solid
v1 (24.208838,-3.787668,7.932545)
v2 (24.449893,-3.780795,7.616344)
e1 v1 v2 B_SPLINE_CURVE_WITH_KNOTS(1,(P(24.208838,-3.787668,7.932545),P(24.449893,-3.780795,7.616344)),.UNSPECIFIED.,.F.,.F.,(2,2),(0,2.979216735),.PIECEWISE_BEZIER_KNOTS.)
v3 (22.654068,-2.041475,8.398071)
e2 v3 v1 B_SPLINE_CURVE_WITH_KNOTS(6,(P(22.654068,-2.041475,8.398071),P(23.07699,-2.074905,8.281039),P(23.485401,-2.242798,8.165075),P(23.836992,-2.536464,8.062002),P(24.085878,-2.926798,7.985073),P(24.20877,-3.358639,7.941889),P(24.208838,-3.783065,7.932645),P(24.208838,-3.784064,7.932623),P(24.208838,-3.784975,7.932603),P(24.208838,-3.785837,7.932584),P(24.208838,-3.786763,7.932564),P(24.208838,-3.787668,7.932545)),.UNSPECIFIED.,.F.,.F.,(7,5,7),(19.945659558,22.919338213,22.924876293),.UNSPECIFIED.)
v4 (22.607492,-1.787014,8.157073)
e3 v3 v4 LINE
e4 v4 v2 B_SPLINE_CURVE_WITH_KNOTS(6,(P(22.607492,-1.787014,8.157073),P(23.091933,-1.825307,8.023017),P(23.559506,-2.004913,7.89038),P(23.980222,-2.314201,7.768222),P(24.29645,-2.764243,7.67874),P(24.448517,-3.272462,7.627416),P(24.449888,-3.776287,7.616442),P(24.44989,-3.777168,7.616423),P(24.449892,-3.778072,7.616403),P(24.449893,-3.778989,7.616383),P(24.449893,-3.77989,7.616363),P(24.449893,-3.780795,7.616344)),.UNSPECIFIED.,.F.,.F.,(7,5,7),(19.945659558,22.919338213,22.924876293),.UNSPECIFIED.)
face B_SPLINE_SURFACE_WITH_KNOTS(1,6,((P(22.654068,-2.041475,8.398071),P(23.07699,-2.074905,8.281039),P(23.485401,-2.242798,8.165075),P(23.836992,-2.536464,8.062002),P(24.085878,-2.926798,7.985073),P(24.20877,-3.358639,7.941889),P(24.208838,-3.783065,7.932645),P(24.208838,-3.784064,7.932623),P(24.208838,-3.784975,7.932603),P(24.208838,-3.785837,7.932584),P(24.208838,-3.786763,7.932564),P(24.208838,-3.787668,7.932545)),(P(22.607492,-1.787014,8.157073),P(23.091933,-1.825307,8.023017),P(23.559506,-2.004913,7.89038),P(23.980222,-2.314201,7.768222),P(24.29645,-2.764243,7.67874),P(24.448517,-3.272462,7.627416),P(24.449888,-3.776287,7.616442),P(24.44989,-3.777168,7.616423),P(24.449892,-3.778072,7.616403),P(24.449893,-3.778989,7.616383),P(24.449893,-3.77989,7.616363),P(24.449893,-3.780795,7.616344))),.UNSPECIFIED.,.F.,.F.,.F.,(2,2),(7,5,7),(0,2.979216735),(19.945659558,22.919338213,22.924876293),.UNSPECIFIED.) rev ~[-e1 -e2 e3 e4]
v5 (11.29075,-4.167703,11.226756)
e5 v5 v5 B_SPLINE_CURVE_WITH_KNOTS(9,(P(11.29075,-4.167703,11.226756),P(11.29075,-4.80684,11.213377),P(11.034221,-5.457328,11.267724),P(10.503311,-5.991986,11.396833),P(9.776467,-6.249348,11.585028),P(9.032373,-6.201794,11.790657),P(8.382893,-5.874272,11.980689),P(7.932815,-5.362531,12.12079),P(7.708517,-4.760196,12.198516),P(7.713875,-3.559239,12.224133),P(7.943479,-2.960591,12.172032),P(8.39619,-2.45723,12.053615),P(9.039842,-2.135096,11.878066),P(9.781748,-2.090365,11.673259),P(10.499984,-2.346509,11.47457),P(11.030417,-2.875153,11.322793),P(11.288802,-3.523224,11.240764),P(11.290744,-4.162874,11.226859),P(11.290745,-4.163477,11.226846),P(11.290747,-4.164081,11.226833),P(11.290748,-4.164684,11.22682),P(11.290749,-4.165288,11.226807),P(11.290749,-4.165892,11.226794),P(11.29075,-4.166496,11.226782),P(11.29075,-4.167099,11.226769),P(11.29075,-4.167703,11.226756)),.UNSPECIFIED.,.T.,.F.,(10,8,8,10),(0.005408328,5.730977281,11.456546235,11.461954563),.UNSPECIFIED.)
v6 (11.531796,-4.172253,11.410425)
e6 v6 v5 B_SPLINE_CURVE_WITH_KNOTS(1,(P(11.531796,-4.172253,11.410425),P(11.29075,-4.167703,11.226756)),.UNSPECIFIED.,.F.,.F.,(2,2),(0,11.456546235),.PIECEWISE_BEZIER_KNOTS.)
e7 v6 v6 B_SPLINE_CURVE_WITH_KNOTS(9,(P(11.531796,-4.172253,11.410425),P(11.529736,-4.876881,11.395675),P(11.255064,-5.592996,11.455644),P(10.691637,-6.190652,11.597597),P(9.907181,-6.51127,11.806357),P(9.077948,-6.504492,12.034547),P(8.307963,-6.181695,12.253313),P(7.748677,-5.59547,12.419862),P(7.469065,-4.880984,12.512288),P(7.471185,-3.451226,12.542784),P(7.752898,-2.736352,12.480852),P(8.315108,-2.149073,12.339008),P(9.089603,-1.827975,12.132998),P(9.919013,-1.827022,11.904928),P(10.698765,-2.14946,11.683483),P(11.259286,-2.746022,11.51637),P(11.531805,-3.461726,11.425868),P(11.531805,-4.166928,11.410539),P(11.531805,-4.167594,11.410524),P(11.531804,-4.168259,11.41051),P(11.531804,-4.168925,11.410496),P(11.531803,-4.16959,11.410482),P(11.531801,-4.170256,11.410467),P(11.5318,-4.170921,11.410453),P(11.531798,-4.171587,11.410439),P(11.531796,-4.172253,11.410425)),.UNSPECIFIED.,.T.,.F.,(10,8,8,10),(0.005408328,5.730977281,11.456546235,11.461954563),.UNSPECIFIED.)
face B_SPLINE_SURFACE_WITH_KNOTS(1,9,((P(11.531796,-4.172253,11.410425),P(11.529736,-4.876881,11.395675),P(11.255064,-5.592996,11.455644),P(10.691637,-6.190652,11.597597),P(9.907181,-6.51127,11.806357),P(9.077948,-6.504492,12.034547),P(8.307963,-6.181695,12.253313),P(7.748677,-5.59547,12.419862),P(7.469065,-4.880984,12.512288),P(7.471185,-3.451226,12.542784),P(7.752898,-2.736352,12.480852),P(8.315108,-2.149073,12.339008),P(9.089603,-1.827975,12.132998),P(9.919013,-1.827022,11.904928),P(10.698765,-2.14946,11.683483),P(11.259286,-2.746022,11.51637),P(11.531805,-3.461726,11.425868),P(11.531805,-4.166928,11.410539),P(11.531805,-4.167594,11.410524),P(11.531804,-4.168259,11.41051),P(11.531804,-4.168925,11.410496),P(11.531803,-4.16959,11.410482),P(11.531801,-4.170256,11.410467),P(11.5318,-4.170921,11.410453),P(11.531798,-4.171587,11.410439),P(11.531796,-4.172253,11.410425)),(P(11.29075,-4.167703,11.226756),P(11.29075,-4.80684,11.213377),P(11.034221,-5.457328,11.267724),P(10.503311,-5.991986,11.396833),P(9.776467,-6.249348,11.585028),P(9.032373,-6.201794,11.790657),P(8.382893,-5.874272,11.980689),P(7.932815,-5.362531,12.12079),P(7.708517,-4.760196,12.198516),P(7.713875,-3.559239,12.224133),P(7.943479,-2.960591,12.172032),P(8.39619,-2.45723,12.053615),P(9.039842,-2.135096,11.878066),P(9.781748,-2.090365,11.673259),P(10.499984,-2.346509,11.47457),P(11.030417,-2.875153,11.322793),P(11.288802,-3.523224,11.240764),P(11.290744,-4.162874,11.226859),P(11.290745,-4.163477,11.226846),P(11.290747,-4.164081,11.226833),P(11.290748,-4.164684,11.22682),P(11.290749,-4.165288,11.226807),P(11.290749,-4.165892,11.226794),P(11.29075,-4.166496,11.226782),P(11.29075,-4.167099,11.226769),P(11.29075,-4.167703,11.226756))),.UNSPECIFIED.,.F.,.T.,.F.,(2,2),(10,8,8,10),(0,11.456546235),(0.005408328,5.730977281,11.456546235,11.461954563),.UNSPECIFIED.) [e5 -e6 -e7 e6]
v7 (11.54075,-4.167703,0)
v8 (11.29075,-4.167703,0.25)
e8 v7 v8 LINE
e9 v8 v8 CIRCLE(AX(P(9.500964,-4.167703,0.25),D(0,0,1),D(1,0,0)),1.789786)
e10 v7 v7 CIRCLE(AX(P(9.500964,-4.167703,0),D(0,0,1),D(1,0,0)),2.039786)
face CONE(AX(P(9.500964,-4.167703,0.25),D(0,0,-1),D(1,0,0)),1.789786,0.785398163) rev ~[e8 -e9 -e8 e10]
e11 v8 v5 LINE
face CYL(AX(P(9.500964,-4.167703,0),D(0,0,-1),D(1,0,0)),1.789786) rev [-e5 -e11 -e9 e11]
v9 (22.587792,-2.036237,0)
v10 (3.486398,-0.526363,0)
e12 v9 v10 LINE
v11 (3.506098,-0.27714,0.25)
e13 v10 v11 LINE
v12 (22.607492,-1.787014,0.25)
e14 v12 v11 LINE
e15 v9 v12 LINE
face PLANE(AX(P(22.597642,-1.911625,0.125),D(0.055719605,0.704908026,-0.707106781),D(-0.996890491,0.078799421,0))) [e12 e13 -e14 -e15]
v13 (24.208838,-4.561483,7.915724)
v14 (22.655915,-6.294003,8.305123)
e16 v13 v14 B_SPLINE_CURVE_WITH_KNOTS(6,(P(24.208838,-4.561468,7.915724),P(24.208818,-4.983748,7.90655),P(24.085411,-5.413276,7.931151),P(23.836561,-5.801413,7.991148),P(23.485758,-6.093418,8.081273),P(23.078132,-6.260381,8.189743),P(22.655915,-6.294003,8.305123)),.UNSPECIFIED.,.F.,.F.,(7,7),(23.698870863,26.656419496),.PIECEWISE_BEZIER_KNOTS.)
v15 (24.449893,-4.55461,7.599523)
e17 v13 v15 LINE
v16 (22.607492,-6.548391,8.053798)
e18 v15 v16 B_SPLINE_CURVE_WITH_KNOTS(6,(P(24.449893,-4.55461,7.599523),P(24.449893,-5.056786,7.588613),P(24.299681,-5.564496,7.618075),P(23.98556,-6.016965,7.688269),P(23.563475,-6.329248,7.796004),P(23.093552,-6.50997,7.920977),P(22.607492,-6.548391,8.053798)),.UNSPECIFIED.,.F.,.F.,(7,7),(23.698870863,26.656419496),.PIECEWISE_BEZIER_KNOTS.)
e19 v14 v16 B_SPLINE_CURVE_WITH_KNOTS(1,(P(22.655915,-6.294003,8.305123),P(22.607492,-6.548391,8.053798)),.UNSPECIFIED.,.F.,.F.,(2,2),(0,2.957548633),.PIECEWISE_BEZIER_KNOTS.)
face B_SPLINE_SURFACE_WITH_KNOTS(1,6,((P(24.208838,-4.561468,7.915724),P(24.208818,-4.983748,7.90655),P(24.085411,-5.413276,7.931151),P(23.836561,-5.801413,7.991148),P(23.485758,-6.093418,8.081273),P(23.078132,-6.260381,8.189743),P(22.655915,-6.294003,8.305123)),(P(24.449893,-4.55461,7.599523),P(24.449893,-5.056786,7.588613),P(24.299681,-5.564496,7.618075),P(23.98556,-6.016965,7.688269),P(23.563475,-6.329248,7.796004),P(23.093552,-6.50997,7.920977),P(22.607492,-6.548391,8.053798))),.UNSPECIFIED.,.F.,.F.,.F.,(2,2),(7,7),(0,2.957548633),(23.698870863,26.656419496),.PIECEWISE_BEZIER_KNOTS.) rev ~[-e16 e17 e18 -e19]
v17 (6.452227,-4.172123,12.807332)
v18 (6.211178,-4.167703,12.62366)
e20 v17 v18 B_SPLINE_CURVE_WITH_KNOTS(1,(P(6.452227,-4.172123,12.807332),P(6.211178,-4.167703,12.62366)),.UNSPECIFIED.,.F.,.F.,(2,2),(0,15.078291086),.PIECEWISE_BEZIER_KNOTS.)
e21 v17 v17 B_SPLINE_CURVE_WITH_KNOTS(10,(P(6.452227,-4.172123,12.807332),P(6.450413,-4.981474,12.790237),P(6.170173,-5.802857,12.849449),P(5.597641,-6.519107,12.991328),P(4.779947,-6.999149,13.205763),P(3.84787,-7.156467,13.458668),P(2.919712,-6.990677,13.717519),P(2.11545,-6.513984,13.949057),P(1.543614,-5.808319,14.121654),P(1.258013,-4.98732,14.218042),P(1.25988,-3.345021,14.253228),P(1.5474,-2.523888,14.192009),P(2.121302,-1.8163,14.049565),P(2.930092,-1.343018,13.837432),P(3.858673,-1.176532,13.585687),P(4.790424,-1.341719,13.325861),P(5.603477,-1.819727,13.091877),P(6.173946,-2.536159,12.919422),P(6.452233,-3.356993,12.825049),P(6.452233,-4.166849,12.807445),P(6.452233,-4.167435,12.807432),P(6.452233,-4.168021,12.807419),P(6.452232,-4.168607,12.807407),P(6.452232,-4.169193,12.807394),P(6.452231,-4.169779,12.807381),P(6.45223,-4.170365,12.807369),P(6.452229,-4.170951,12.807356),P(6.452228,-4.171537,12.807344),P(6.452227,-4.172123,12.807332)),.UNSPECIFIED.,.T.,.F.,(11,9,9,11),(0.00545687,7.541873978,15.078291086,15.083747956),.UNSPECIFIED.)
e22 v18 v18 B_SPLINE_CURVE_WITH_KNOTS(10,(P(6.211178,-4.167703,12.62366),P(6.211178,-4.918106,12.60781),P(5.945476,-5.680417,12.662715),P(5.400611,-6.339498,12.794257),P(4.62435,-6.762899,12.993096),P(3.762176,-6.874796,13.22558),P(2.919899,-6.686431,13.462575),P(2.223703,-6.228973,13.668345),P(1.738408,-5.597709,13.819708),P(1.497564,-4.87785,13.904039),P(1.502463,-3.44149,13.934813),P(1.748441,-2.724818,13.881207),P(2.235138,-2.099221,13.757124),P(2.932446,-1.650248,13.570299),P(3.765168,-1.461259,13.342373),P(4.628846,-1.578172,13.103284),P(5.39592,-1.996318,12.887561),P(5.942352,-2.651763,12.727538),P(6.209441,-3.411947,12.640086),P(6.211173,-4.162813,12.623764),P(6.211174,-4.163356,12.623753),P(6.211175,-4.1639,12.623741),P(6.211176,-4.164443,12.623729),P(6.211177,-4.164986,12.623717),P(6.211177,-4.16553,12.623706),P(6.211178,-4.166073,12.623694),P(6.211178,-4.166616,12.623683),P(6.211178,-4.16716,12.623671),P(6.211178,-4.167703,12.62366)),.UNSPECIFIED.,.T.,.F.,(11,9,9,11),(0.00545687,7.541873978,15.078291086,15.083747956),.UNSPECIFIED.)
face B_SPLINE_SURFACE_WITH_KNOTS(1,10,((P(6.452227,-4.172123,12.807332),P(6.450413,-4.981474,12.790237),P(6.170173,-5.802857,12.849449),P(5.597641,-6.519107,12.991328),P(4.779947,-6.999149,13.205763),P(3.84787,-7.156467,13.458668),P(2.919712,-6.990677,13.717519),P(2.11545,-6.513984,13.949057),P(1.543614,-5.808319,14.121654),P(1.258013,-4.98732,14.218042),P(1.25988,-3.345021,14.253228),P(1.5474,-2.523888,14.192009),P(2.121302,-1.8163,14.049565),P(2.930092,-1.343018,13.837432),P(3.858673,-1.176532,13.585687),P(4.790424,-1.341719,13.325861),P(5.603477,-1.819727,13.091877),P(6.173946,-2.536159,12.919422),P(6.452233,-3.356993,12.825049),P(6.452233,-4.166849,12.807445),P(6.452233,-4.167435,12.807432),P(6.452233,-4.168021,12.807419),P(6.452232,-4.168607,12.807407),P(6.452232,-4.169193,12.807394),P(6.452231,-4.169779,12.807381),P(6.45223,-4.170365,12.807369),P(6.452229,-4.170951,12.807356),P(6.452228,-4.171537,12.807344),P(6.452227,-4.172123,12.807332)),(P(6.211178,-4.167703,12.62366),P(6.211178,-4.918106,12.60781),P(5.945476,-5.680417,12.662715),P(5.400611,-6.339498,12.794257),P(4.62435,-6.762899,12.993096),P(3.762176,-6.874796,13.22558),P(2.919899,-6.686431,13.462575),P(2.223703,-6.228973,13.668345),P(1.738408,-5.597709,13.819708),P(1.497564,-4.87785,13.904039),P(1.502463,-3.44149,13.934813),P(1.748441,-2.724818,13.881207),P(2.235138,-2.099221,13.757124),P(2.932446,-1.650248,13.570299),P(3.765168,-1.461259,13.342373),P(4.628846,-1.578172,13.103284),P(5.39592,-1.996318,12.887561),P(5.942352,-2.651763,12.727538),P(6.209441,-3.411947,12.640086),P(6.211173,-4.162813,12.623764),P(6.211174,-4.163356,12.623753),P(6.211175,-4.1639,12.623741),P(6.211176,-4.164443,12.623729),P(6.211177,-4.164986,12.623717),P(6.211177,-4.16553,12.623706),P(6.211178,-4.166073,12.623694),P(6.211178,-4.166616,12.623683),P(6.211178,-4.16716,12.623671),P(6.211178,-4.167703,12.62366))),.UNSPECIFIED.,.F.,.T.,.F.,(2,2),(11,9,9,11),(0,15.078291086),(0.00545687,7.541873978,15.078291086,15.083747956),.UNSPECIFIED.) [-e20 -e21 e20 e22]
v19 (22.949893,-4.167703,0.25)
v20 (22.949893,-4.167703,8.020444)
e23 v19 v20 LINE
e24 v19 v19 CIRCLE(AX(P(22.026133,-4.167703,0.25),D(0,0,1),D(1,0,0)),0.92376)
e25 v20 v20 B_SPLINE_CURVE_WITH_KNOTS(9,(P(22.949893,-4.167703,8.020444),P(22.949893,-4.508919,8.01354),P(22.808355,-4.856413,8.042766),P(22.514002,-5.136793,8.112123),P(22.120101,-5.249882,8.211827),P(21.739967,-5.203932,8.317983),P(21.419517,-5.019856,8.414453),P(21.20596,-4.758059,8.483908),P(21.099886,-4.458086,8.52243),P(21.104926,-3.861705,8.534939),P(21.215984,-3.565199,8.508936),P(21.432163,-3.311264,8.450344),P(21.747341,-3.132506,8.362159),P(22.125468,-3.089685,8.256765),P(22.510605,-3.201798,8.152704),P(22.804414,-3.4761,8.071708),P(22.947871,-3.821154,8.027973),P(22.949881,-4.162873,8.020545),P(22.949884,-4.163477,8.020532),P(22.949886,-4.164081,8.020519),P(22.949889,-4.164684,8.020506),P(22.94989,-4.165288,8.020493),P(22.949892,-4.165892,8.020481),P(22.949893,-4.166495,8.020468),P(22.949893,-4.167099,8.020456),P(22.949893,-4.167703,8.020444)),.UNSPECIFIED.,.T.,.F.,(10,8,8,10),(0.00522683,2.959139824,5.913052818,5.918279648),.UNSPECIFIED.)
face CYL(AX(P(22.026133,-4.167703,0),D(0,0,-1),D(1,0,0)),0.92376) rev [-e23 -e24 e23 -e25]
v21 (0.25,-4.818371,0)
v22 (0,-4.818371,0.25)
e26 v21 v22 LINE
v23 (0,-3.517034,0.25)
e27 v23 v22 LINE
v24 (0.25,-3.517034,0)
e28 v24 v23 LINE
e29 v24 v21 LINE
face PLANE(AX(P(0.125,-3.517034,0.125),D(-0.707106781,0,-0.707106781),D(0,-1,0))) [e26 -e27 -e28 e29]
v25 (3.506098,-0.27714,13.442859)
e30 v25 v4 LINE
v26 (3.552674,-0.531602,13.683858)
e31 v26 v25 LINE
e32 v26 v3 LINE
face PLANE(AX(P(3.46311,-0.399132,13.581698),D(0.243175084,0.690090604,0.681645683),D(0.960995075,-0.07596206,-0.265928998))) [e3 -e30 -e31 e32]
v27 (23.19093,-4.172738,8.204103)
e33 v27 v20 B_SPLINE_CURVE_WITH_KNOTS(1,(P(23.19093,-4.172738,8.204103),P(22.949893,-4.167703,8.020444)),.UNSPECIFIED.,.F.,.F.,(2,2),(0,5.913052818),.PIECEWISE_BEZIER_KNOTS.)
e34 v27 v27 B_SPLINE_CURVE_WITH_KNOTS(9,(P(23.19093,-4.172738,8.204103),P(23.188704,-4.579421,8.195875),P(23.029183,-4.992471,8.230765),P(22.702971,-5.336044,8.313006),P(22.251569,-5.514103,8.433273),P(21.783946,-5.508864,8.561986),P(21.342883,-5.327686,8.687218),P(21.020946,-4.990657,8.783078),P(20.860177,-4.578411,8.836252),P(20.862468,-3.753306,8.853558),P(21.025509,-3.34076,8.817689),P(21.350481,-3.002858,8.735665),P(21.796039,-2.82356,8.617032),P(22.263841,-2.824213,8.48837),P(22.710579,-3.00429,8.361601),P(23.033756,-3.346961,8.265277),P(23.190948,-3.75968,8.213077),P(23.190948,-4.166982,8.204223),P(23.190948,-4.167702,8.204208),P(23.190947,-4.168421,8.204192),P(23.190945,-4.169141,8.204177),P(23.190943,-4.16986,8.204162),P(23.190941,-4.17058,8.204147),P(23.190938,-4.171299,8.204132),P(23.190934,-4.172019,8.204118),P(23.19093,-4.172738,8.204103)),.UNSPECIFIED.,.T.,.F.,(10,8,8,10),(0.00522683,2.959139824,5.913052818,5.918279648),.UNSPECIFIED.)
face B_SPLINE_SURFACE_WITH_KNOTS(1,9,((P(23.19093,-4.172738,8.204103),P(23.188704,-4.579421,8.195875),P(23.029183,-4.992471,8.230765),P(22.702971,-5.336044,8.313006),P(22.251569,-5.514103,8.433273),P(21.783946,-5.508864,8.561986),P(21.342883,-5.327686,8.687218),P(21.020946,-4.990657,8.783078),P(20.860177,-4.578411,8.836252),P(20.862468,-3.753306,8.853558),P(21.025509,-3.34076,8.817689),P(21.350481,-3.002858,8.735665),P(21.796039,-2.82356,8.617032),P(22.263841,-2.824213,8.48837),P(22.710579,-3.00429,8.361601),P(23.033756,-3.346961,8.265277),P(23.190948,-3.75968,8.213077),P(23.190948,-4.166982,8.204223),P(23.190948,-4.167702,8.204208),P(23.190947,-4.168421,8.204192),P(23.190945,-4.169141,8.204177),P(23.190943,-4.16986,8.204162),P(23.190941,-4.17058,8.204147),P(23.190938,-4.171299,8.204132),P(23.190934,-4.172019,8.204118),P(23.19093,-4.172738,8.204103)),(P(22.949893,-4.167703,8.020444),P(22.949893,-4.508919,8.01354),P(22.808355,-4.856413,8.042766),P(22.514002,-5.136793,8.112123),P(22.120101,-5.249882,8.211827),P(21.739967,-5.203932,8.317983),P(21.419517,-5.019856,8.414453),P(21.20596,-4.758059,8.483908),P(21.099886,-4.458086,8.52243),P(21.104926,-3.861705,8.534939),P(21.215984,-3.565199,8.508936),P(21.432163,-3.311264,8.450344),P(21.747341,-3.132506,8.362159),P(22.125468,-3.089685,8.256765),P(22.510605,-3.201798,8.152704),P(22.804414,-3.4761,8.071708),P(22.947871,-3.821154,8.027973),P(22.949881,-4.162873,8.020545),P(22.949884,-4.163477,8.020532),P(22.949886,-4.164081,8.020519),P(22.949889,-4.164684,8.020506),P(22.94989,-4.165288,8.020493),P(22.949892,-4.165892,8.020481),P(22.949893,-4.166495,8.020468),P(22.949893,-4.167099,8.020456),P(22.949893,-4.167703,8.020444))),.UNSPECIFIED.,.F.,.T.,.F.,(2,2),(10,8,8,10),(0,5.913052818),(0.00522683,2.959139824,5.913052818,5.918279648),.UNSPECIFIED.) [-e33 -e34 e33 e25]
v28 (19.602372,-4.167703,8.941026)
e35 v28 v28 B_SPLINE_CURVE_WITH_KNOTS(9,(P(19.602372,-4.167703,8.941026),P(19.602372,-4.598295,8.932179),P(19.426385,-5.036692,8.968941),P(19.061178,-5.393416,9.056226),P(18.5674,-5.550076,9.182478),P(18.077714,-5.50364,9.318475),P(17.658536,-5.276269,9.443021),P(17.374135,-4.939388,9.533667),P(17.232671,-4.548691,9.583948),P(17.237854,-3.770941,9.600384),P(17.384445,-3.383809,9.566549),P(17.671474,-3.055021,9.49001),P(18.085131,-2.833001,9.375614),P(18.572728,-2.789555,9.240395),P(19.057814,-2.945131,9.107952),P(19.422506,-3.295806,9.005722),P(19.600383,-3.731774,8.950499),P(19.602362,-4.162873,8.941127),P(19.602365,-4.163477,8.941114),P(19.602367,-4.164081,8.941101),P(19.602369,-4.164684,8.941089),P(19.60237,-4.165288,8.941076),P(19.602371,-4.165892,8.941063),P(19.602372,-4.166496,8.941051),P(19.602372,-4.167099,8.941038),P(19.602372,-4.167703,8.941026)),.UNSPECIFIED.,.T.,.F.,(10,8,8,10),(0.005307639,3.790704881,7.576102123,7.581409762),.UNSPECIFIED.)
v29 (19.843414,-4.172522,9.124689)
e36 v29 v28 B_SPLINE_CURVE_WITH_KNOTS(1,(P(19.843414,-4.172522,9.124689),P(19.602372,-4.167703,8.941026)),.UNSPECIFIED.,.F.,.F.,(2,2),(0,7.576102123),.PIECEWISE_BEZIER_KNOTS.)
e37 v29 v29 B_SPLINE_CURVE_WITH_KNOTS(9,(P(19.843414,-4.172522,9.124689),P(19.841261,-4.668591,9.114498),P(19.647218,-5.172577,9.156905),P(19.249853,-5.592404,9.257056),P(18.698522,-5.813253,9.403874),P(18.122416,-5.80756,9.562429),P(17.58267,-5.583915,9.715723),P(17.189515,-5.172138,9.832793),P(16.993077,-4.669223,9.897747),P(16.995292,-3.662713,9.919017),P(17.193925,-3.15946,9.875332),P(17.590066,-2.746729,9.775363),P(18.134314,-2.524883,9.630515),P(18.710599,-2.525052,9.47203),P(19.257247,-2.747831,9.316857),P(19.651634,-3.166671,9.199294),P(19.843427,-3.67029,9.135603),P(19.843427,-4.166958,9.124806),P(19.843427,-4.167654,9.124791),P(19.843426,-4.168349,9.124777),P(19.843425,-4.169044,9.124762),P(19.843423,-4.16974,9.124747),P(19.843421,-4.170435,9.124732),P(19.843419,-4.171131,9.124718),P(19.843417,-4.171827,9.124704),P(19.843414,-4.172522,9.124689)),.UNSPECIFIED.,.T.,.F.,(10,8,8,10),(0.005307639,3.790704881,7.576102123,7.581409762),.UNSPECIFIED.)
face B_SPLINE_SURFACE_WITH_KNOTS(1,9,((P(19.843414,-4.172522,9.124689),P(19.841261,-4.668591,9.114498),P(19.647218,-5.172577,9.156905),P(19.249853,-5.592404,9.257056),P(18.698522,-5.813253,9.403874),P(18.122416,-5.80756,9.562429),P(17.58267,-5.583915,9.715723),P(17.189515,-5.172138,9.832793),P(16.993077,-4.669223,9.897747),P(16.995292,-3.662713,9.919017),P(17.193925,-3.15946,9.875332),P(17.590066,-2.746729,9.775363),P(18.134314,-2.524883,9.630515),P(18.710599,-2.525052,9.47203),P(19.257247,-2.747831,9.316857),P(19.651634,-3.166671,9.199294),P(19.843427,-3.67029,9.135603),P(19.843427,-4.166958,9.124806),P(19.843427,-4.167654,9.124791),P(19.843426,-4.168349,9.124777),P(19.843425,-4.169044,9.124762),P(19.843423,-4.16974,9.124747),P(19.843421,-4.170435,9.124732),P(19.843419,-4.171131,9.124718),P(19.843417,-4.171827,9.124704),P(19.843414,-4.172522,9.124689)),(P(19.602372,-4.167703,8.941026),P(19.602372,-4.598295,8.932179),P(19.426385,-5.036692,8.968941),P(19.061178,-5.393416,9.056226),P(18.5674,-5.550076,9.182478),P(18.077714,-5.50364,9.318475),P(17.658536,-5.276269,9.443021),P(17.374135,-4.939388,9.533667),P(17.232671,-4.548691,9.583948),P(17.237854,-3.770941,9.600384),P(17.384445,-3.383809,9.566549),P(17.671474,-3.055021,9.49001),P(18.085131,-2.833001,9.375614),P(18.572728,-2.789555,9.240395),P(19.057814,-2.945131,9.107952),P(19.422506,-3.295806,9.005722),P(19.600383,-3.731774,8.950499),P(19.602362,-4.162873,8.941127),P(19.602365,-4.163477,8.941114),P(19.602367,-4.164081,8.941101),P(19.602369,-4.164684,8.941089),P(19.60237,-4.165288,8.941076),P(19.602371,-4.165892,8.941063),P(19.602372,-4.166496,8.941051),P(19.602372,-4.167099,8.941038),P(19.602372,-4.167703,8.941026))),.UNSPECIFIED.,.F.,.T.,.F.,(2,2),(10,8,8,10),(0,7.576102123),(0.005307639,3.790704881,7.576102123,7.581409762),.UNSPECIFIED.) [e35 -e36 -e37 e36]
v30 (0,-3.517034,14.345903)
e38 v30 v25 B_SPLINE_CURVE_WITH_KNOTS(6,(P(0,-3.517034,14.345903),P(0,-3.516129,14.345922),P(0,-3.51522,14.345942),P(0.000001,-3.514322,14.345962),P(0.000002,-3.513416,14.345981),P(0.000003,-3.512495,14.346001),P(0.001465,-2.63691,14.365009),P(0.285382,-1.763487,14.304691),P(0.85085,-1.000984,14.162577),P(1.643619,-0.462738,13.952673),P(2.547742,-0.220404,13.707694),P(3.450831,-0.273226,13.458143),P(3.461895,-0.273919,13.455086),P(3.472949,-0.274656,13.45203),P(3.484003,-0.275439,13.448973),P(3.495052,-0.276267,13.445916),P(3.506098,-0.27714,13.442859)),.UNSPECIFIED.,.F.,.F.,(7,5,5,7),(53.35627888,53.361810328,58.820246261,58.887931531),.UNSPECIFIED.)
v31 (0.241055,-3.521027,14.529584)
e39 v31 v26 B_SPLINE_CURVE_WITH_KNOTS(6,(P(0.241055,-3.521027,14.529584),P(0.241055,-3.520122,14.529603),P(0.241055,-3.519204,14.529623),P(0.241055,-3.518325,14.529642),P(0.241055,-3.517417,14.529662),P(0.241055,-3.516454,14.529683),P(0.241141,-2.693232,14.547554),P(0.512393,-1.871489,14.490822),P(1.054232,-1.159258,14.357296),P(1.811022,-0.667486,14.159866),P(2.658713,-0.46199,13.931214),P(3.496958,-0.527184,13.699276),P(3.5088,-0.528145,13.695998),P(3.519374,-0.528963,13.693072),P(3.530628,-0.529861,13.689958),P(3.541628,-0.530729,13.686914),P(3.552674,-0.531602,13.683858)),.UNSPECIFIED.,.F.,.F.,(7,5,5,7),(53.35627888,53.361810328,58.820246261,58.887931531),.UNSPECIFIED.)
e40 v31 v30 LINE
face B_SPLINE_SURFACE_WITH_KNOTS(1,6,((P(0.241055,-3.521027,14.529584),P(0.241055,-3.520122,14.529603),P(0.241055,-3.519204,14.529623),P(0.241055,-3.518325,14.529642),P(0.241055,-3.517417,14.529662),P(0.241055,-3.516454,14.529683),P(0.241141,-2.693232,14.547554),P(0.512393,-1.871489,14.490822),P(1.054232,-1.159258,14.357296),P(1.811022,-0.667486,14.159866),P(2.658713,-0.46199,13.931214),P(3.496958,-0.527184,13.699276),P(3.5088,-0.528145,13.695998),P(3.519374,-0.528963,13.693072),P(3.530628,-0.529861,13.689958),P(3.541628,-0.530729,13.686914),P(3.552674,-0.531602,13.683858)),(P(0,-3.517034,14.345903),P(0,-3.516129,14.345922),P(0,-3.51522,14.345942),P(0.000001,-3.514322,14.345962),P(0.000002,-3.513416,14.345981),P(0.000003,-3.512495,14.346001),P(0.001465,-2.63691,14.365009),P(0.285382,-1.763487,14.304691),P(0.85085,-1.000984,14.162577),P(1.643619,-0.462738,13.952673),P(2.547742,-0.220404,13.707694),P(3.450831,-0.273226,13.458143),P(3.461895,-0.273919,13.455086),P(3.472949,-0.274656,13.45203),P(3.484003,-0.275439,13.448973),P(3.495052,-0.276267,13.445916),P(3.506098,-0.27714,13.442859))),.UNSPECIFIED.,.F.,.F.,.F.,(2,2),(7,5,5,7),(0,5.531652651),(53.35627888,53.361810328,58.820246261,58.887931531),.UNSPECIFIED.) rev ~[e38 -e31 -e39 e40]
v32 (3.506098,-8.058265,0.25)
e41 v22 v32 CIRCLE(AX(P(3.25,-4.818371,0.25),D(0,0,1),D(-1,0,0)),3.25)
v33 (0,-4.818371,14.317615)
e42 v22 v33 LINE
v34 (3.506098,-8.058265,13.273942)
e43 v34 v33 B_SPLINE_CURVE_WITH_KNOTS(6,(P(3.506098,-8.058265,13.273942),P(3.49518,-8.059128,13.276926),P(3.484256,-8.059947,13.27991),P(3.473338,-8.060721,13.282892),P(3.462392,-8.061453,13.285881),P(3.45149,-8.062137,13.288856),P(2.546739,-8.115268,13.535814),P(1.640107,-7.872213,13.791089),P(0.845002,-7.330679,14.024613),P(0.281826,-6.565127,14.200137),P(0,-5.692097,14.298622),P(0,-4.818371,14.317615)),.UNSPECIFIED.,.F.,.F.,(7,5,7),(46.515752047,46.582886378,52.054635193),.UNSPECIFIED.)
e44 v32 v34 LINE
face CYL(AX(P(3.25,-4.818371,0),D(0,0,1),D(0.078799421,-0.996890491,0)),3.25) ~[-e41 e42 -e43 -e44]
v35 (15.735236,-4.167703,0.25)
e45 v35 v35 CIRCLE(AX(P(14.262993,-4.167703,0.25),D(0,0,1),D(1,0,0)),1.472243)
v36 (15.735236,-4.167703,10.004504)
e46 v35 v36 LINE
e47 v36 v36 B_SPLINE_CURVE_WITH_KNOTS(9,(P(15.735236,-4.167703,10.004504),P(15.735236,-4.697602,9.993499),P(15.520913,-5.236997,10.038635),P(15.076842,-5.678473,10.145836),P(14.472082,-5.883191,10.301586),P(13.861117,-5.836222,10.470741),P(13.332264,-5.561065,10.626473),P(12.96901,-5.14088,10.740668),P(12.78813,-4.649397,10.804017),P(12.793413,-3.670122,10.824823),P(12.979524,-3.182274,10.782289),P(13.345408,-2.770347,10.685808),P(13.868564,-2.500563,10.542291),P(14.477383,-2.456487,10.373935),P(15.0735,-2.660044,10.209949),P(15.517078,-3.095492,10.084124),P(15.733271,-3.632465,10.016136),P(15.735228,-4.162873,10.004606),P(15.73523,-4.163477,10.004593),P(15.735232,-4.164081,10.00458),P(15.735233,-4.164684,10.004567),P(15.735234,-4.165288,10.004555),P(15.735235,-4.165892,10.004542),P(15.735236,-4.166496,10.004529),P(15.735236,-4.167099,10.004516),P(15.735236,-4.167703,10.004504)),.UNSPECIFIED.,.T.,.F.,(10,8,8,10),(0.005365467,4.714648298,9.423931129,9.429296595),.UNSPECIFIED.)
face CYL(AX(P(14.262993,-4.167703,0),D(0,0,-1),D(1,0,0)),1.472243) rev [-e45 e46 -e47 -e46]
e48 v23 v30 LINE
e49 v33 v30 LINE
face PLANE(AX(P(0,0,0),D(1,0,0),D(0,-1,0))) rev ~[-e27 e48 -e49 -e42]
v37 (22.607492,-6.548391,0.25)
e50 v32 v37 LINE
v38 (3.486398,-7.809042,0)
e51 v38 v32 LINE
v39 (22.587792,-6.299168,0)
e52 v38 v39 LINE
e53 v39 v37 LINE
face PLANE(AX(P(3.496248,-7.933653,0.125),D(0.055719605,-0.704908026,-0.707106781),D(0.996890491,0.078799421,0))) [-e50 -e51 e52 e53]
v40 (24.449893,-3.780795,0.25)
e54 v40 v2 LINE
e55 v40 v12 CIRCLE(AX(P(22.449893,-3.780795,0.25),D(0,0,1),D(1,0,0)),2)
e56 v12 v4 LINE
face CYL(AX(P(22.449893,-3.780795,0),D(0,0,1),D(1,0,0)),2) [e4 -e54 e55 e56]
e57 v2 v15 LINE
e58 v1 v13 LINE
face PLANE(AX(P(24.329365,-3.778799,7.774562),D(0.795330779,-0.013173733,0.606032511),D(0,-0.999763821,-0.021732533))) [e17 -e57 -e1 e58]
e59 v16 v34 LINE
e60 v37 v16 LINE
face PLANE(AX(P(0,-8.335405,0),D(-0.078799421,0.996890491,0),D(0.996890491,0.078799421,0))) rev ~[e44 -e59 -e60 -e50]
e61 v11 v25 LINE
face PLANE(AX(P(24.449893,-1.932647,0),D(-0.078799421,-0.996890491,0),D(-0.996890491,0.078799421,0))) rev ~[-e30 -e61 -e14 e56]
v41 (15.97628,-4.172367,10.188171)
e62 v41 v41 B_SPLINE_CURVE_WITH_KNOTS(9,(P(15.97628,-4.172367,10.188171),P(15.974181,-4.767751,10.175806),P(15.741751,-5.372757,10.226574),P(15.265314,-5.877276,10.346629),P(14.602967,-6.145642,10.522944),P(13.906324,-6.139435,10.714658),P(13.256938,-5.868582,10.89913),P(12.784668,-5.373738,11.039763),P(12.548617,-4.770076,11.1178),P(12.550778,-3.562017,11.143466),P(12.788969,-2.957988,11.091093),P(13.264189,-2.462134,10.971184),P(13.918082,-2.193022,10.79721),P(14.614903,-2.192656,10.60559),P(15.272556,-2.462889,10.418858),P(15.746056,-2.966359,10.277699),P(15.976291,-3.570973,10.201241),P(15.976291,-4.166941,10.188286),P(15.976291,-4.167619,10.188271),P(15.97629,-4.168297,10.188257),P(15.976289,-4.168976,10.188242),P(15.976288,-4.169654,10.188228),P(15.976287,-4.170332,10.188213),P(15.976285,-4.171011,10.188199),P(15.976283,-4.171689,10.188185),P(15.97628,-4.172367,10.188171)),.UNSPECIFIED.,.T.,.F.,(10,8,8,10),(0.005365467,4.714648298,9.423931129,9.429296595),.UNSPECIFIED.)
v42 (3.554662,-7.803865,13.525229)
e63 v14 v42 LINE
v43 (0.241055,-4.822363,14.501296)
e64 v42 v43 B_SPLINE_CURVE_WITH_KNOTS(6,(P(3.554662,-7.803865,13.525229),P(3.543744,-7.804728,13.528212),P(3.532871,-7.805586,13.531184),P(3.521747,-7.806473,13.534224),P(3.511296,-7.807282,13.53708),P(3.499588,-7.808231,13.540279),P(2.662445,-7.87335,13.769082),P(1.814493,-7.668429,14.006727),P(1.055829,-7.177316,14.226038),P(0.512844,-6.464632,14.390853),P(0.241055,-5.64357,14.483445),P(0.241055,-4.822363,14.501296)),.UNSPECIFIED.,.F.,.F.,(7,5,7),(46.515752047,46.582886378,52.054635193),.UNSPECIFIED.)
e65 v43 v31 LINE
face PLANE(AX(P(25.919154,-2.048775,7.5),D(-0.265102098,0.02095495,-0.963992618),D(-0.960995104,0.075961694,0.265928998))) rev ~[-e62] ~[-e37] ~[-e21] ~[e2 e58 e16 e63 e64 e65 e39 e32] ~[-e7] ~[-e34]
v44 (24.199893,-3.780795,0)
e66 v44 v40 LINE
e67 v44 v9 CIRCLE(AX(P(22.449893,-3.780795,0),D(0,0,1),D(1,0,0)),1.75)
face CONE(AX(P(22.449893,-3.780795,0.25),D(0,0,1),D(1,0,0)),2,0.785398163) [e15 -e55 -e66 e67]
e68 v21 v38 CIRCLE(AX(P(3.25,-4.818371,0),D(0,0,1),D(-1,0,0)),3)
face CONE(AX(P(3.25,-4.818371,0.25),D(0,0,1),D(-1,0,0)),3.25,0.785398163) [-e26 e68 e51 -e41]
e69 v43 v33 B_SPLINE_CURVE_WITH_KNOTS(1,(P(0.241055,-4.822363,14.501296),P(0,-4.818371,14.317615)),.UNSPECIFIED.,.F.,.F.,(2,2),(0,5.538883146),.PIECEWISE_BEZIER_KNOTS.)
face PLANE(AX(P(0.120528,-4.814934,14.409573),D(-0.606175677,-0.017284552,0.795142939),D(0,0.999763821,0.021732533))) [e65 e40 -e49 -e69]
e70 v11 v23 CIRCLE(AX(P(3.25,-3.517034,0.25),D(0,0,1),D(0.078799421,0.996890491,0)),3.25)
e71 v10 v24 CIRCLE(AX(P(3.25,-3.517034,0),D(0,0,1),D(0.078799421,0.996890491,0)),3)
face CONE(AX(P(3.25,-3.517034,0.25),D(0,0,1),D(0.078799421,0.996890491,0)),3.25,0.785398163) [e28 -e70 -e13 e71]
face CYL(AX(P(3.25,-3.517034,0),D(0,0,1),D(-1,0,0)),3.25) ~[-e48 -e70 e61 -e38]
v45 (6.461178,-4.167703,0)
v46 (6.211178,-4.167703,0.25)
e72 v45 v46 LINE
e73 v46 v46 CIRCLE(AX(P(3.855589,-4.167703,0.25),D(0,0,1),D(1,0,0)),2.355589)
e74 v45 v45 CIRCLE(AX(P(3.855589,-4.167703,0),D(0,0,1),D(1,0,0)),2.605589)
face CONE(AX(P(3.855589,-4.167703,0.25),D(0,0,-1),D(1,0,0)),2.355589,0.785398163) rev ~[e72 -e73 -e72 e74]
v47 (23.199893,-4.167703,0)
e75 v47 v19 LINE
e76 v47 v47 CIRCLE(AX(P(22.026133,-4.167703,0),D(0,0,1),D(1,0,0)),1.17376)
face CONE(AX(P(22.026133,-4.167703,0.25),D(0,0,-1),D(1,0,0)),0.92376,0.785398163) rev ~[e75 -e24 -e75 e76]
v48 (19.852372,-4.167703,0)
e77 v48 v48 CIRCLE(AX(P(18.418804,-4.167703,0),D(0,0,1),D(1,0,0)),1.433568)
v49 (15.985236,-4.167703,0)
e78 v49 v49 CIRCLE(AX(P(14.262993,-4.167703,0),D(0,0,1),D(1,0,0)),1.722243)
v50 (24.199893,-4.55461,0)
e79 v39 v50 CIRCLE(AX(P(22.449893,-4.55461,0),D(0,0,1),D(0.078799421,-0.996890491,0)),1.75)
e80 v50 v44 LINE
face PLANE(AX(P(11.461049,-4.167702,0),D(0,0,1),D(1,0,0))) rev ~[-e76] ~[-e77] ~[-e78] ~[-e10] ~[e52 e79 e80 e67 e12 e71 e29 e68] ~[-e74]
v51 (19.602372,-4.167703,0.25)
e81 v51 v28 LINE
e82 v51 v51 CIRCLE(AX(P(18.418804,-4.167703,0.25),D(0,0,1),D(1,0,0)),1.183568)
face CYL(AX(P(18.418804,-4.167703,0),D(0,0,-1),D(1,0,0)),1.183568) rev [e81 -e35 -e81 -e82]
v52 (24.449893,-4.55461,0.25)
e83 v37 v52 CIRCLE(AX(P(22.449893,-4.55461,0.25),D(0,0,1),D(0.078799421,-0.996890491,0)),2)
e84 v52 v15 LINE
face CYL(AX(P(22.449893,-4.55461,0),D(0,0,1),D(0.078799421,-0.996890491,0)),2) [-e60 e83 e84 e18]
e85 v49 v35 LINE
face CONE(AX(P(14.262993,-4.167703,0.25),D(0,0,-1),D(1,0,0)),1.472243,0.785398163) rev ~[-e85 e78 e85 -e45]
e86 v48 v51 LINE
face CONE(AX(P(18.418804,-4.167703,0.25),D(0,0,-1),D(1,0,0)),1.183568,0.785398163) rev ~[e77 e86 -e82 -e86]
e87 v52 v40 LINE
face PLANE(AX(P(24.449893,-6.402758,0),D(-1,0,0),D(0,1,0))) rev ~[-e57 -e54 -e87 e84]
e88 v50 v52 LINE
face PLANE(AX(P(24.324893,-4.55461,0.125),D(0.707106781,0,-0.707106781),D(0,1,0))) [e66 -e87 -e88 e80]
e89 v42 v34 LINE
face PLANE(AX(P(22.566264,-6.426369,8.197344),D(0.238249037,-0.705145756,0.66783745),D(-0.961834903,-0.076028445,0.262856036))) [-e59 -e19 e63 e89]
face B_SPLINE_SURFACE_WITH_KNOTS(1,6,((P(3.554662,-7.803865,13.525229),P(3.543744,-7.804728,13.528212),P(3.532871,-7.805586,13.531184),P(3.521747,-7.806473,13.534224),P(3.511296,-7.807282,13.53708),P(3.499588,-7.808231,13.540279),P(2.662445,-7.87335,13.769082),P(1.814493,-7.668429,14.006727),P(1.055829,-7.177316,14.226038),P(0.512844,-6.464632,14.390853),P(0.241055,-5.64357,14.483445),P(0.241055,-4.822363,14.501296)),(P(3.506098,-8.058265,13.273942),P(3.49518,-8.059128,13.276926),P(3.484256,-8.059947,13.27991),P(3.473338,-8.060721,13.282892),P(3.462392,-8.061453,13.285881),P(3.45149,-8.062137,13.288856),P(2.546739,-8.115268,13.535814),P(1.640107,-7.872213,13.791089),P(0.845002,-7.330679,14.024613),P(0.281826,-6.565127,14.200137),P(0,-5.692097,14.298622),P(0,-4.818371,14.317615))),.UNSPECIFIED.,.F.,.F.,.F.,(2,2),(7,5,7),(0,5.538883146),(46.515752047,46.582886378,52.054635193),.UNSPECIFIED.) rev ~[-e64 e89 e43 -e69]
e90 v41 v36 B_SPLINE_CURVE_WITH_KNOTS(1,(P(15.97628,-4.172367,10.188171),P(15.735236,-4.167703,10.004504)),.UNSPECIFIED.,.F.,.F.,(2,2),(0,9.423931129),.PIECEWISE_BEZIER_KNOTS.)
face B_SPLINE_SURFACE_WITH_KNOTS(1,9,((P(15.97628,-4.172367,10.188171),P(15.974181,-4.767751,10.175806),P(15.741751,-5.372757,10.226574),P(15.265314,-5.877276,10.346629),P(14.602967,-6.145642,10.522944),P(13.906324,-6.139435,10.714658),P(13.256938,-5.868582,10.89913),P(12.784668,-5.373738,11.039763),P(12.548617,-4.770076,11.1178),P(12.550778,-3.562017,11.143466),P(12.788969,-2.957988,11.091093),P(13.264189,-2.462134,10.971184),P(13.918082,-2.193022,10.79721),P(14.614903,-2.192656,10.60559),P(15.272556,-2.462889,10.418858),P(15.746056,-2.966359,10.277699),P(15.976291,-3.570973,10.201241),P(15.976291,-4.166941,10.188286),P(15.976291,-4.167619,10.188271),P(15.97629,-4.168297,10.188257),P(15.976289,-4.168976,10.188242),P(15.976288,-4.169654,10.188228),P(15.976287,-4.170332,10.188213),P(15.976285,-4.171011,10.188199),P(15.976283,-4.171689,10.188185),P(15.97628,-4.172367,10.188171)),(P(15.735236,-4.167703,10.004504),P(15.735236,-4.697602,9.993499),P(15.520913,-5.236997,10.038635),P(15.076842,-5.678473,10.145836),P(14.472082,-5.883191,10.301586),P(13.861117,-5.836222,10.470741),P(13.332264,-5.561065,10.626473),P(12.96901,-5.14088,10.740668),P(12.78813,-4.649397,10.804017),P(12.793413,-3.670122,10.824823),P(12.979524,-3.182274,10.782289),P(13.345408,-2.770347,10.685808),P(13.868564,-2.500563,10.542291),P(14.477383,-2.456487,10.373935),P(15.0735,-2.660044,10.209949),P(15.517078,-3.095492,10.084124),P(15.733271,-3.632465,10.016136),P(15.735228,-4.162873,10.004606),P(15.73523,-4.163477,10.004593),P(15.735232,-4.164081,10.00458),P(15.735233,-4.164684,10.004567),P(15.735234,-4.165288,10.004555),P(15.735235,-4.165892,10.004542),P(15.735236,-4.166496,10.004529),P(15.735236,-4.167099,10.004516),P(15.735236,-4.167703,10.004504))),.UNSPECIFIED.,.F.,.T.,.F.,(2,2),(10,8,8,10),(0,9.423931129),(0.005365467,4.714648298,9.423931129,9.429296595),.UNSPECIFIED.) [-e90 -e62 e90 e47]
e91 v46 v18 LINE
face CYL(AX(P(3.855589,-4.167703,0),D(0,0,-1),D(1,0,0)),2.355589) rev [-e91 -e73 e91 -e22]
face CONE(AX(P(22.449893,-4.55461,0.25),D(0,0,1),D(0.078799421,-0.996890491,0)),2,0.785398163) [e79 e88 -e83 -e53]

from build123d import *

# Parameters (mm, degrees)
SKETCH001_R       = 2.355589
SKETCH001_R_2     = 1.789786
SKETCH001_R_3     = 1.472243
SKETCH001_R_4     = 1.183568
SKETCH001_R_5     = 0.92376
PAD_DEPTH         = 15
POCKET_DEPTH      = 8.310486
POCKET_DEPTH_BACK = 1.927638
FILLET_R          = 2
FILLET001_R       = 3.25
CHAMFER_SIZE      = 0.25


with BuildPart() as part:
    # Sketch001 → Pad (new body)
    with BuildSketch(Plane.XY):
        Polygon((0, -8.335405), (24.449893, -6.402758), (24.449893, -1.932647), (0, 0), align=None)
        with Locations((3.855589, -4.167703)):
            Circle(SKETCH001_R, mode=Mode.SUBTRACT)
        with Locations((9.500964, -4.167703)):
            Circle(SKETCH001_R_2, mode=Mode.SUBTRACT)
        with Locations((14.262993, -4.167703)):
            Circle(SKETCH001_R_3, mode=Mode.SUBTRACT)
        with Locations((18.418804, -4.167703)):
            Circle(SKETCH001_R_4, mode=Mode.SUBTRACT)
        with Locations((22.026133, -4.167703)):
            Circle(SKETCH001_R_5, mode=Mode.SUBTRACT)
    extrude(amount=PAD_DEPTH)

    # Sketch002 (on DatumPlane) → Pocket (cut, two sides)
    with BuildSketch(Plane(origin=(0, 0, 0), x_dir=(-0.99689, 0.078799, 0), z_dir=(0.078799, 0.99689, 0))) as pocket_sk:
        Polygon((-26, 15.5), (-26, 7.5), (3, 15.5), align=None)
    extrude(amount=-POCKET_DEPTH, mode=Mode.SUBTRACT)
    extrude(pocket_sk.sketch, amount=POCKET_DEPTH_BACK, mode=Mode.SUBTRACT)

    # Fillet
    fillet_edges = [part.edges().sort_by_distance(p)[0] for p in [
        (24.449893, -6.402758, 3.904703),
        (24.449893, -1.932647, 3.953289),
    ]]
    fillet(fillet_edges, radius=FILLET_R)

    # Fillet001
    fillet001_edges = [part.edges().sort_by_distance(p)[0] for p in [
        (0, -8.335405, 7.24561),
        (0, 0, 7.336207),
    ]]
    fillet(fillet001_edges, radius=FILLET001_R)

    # Chamfer
    chamfer_edges = [part.edges().sort_by_distance(p)[0] for p in [
        (13.056795, -1.032077, 0),
        (13.056795, -1.032077, 11.059304),
        (12.79075, -4.167702, 11.064306),
        (7.711178, -4.167701, 12.46121),
        (17.235236, -4.167702, 9.842054),
        (1.5, -4.167701, 14.169311),
        (21.102372, -4.167702, 8.778575),
        (21.102372, -4.167703, 0),
        (17.235236, -4.167703, 0),
        (12.79075, -4.167703, 0),
        (7.711178, -4.167703, 0),
        (1.5, -4.167703, 0),
    ]]
    chamfer(chamfer_edges, length=CHAMFER_SIZE)


solid = part.part
